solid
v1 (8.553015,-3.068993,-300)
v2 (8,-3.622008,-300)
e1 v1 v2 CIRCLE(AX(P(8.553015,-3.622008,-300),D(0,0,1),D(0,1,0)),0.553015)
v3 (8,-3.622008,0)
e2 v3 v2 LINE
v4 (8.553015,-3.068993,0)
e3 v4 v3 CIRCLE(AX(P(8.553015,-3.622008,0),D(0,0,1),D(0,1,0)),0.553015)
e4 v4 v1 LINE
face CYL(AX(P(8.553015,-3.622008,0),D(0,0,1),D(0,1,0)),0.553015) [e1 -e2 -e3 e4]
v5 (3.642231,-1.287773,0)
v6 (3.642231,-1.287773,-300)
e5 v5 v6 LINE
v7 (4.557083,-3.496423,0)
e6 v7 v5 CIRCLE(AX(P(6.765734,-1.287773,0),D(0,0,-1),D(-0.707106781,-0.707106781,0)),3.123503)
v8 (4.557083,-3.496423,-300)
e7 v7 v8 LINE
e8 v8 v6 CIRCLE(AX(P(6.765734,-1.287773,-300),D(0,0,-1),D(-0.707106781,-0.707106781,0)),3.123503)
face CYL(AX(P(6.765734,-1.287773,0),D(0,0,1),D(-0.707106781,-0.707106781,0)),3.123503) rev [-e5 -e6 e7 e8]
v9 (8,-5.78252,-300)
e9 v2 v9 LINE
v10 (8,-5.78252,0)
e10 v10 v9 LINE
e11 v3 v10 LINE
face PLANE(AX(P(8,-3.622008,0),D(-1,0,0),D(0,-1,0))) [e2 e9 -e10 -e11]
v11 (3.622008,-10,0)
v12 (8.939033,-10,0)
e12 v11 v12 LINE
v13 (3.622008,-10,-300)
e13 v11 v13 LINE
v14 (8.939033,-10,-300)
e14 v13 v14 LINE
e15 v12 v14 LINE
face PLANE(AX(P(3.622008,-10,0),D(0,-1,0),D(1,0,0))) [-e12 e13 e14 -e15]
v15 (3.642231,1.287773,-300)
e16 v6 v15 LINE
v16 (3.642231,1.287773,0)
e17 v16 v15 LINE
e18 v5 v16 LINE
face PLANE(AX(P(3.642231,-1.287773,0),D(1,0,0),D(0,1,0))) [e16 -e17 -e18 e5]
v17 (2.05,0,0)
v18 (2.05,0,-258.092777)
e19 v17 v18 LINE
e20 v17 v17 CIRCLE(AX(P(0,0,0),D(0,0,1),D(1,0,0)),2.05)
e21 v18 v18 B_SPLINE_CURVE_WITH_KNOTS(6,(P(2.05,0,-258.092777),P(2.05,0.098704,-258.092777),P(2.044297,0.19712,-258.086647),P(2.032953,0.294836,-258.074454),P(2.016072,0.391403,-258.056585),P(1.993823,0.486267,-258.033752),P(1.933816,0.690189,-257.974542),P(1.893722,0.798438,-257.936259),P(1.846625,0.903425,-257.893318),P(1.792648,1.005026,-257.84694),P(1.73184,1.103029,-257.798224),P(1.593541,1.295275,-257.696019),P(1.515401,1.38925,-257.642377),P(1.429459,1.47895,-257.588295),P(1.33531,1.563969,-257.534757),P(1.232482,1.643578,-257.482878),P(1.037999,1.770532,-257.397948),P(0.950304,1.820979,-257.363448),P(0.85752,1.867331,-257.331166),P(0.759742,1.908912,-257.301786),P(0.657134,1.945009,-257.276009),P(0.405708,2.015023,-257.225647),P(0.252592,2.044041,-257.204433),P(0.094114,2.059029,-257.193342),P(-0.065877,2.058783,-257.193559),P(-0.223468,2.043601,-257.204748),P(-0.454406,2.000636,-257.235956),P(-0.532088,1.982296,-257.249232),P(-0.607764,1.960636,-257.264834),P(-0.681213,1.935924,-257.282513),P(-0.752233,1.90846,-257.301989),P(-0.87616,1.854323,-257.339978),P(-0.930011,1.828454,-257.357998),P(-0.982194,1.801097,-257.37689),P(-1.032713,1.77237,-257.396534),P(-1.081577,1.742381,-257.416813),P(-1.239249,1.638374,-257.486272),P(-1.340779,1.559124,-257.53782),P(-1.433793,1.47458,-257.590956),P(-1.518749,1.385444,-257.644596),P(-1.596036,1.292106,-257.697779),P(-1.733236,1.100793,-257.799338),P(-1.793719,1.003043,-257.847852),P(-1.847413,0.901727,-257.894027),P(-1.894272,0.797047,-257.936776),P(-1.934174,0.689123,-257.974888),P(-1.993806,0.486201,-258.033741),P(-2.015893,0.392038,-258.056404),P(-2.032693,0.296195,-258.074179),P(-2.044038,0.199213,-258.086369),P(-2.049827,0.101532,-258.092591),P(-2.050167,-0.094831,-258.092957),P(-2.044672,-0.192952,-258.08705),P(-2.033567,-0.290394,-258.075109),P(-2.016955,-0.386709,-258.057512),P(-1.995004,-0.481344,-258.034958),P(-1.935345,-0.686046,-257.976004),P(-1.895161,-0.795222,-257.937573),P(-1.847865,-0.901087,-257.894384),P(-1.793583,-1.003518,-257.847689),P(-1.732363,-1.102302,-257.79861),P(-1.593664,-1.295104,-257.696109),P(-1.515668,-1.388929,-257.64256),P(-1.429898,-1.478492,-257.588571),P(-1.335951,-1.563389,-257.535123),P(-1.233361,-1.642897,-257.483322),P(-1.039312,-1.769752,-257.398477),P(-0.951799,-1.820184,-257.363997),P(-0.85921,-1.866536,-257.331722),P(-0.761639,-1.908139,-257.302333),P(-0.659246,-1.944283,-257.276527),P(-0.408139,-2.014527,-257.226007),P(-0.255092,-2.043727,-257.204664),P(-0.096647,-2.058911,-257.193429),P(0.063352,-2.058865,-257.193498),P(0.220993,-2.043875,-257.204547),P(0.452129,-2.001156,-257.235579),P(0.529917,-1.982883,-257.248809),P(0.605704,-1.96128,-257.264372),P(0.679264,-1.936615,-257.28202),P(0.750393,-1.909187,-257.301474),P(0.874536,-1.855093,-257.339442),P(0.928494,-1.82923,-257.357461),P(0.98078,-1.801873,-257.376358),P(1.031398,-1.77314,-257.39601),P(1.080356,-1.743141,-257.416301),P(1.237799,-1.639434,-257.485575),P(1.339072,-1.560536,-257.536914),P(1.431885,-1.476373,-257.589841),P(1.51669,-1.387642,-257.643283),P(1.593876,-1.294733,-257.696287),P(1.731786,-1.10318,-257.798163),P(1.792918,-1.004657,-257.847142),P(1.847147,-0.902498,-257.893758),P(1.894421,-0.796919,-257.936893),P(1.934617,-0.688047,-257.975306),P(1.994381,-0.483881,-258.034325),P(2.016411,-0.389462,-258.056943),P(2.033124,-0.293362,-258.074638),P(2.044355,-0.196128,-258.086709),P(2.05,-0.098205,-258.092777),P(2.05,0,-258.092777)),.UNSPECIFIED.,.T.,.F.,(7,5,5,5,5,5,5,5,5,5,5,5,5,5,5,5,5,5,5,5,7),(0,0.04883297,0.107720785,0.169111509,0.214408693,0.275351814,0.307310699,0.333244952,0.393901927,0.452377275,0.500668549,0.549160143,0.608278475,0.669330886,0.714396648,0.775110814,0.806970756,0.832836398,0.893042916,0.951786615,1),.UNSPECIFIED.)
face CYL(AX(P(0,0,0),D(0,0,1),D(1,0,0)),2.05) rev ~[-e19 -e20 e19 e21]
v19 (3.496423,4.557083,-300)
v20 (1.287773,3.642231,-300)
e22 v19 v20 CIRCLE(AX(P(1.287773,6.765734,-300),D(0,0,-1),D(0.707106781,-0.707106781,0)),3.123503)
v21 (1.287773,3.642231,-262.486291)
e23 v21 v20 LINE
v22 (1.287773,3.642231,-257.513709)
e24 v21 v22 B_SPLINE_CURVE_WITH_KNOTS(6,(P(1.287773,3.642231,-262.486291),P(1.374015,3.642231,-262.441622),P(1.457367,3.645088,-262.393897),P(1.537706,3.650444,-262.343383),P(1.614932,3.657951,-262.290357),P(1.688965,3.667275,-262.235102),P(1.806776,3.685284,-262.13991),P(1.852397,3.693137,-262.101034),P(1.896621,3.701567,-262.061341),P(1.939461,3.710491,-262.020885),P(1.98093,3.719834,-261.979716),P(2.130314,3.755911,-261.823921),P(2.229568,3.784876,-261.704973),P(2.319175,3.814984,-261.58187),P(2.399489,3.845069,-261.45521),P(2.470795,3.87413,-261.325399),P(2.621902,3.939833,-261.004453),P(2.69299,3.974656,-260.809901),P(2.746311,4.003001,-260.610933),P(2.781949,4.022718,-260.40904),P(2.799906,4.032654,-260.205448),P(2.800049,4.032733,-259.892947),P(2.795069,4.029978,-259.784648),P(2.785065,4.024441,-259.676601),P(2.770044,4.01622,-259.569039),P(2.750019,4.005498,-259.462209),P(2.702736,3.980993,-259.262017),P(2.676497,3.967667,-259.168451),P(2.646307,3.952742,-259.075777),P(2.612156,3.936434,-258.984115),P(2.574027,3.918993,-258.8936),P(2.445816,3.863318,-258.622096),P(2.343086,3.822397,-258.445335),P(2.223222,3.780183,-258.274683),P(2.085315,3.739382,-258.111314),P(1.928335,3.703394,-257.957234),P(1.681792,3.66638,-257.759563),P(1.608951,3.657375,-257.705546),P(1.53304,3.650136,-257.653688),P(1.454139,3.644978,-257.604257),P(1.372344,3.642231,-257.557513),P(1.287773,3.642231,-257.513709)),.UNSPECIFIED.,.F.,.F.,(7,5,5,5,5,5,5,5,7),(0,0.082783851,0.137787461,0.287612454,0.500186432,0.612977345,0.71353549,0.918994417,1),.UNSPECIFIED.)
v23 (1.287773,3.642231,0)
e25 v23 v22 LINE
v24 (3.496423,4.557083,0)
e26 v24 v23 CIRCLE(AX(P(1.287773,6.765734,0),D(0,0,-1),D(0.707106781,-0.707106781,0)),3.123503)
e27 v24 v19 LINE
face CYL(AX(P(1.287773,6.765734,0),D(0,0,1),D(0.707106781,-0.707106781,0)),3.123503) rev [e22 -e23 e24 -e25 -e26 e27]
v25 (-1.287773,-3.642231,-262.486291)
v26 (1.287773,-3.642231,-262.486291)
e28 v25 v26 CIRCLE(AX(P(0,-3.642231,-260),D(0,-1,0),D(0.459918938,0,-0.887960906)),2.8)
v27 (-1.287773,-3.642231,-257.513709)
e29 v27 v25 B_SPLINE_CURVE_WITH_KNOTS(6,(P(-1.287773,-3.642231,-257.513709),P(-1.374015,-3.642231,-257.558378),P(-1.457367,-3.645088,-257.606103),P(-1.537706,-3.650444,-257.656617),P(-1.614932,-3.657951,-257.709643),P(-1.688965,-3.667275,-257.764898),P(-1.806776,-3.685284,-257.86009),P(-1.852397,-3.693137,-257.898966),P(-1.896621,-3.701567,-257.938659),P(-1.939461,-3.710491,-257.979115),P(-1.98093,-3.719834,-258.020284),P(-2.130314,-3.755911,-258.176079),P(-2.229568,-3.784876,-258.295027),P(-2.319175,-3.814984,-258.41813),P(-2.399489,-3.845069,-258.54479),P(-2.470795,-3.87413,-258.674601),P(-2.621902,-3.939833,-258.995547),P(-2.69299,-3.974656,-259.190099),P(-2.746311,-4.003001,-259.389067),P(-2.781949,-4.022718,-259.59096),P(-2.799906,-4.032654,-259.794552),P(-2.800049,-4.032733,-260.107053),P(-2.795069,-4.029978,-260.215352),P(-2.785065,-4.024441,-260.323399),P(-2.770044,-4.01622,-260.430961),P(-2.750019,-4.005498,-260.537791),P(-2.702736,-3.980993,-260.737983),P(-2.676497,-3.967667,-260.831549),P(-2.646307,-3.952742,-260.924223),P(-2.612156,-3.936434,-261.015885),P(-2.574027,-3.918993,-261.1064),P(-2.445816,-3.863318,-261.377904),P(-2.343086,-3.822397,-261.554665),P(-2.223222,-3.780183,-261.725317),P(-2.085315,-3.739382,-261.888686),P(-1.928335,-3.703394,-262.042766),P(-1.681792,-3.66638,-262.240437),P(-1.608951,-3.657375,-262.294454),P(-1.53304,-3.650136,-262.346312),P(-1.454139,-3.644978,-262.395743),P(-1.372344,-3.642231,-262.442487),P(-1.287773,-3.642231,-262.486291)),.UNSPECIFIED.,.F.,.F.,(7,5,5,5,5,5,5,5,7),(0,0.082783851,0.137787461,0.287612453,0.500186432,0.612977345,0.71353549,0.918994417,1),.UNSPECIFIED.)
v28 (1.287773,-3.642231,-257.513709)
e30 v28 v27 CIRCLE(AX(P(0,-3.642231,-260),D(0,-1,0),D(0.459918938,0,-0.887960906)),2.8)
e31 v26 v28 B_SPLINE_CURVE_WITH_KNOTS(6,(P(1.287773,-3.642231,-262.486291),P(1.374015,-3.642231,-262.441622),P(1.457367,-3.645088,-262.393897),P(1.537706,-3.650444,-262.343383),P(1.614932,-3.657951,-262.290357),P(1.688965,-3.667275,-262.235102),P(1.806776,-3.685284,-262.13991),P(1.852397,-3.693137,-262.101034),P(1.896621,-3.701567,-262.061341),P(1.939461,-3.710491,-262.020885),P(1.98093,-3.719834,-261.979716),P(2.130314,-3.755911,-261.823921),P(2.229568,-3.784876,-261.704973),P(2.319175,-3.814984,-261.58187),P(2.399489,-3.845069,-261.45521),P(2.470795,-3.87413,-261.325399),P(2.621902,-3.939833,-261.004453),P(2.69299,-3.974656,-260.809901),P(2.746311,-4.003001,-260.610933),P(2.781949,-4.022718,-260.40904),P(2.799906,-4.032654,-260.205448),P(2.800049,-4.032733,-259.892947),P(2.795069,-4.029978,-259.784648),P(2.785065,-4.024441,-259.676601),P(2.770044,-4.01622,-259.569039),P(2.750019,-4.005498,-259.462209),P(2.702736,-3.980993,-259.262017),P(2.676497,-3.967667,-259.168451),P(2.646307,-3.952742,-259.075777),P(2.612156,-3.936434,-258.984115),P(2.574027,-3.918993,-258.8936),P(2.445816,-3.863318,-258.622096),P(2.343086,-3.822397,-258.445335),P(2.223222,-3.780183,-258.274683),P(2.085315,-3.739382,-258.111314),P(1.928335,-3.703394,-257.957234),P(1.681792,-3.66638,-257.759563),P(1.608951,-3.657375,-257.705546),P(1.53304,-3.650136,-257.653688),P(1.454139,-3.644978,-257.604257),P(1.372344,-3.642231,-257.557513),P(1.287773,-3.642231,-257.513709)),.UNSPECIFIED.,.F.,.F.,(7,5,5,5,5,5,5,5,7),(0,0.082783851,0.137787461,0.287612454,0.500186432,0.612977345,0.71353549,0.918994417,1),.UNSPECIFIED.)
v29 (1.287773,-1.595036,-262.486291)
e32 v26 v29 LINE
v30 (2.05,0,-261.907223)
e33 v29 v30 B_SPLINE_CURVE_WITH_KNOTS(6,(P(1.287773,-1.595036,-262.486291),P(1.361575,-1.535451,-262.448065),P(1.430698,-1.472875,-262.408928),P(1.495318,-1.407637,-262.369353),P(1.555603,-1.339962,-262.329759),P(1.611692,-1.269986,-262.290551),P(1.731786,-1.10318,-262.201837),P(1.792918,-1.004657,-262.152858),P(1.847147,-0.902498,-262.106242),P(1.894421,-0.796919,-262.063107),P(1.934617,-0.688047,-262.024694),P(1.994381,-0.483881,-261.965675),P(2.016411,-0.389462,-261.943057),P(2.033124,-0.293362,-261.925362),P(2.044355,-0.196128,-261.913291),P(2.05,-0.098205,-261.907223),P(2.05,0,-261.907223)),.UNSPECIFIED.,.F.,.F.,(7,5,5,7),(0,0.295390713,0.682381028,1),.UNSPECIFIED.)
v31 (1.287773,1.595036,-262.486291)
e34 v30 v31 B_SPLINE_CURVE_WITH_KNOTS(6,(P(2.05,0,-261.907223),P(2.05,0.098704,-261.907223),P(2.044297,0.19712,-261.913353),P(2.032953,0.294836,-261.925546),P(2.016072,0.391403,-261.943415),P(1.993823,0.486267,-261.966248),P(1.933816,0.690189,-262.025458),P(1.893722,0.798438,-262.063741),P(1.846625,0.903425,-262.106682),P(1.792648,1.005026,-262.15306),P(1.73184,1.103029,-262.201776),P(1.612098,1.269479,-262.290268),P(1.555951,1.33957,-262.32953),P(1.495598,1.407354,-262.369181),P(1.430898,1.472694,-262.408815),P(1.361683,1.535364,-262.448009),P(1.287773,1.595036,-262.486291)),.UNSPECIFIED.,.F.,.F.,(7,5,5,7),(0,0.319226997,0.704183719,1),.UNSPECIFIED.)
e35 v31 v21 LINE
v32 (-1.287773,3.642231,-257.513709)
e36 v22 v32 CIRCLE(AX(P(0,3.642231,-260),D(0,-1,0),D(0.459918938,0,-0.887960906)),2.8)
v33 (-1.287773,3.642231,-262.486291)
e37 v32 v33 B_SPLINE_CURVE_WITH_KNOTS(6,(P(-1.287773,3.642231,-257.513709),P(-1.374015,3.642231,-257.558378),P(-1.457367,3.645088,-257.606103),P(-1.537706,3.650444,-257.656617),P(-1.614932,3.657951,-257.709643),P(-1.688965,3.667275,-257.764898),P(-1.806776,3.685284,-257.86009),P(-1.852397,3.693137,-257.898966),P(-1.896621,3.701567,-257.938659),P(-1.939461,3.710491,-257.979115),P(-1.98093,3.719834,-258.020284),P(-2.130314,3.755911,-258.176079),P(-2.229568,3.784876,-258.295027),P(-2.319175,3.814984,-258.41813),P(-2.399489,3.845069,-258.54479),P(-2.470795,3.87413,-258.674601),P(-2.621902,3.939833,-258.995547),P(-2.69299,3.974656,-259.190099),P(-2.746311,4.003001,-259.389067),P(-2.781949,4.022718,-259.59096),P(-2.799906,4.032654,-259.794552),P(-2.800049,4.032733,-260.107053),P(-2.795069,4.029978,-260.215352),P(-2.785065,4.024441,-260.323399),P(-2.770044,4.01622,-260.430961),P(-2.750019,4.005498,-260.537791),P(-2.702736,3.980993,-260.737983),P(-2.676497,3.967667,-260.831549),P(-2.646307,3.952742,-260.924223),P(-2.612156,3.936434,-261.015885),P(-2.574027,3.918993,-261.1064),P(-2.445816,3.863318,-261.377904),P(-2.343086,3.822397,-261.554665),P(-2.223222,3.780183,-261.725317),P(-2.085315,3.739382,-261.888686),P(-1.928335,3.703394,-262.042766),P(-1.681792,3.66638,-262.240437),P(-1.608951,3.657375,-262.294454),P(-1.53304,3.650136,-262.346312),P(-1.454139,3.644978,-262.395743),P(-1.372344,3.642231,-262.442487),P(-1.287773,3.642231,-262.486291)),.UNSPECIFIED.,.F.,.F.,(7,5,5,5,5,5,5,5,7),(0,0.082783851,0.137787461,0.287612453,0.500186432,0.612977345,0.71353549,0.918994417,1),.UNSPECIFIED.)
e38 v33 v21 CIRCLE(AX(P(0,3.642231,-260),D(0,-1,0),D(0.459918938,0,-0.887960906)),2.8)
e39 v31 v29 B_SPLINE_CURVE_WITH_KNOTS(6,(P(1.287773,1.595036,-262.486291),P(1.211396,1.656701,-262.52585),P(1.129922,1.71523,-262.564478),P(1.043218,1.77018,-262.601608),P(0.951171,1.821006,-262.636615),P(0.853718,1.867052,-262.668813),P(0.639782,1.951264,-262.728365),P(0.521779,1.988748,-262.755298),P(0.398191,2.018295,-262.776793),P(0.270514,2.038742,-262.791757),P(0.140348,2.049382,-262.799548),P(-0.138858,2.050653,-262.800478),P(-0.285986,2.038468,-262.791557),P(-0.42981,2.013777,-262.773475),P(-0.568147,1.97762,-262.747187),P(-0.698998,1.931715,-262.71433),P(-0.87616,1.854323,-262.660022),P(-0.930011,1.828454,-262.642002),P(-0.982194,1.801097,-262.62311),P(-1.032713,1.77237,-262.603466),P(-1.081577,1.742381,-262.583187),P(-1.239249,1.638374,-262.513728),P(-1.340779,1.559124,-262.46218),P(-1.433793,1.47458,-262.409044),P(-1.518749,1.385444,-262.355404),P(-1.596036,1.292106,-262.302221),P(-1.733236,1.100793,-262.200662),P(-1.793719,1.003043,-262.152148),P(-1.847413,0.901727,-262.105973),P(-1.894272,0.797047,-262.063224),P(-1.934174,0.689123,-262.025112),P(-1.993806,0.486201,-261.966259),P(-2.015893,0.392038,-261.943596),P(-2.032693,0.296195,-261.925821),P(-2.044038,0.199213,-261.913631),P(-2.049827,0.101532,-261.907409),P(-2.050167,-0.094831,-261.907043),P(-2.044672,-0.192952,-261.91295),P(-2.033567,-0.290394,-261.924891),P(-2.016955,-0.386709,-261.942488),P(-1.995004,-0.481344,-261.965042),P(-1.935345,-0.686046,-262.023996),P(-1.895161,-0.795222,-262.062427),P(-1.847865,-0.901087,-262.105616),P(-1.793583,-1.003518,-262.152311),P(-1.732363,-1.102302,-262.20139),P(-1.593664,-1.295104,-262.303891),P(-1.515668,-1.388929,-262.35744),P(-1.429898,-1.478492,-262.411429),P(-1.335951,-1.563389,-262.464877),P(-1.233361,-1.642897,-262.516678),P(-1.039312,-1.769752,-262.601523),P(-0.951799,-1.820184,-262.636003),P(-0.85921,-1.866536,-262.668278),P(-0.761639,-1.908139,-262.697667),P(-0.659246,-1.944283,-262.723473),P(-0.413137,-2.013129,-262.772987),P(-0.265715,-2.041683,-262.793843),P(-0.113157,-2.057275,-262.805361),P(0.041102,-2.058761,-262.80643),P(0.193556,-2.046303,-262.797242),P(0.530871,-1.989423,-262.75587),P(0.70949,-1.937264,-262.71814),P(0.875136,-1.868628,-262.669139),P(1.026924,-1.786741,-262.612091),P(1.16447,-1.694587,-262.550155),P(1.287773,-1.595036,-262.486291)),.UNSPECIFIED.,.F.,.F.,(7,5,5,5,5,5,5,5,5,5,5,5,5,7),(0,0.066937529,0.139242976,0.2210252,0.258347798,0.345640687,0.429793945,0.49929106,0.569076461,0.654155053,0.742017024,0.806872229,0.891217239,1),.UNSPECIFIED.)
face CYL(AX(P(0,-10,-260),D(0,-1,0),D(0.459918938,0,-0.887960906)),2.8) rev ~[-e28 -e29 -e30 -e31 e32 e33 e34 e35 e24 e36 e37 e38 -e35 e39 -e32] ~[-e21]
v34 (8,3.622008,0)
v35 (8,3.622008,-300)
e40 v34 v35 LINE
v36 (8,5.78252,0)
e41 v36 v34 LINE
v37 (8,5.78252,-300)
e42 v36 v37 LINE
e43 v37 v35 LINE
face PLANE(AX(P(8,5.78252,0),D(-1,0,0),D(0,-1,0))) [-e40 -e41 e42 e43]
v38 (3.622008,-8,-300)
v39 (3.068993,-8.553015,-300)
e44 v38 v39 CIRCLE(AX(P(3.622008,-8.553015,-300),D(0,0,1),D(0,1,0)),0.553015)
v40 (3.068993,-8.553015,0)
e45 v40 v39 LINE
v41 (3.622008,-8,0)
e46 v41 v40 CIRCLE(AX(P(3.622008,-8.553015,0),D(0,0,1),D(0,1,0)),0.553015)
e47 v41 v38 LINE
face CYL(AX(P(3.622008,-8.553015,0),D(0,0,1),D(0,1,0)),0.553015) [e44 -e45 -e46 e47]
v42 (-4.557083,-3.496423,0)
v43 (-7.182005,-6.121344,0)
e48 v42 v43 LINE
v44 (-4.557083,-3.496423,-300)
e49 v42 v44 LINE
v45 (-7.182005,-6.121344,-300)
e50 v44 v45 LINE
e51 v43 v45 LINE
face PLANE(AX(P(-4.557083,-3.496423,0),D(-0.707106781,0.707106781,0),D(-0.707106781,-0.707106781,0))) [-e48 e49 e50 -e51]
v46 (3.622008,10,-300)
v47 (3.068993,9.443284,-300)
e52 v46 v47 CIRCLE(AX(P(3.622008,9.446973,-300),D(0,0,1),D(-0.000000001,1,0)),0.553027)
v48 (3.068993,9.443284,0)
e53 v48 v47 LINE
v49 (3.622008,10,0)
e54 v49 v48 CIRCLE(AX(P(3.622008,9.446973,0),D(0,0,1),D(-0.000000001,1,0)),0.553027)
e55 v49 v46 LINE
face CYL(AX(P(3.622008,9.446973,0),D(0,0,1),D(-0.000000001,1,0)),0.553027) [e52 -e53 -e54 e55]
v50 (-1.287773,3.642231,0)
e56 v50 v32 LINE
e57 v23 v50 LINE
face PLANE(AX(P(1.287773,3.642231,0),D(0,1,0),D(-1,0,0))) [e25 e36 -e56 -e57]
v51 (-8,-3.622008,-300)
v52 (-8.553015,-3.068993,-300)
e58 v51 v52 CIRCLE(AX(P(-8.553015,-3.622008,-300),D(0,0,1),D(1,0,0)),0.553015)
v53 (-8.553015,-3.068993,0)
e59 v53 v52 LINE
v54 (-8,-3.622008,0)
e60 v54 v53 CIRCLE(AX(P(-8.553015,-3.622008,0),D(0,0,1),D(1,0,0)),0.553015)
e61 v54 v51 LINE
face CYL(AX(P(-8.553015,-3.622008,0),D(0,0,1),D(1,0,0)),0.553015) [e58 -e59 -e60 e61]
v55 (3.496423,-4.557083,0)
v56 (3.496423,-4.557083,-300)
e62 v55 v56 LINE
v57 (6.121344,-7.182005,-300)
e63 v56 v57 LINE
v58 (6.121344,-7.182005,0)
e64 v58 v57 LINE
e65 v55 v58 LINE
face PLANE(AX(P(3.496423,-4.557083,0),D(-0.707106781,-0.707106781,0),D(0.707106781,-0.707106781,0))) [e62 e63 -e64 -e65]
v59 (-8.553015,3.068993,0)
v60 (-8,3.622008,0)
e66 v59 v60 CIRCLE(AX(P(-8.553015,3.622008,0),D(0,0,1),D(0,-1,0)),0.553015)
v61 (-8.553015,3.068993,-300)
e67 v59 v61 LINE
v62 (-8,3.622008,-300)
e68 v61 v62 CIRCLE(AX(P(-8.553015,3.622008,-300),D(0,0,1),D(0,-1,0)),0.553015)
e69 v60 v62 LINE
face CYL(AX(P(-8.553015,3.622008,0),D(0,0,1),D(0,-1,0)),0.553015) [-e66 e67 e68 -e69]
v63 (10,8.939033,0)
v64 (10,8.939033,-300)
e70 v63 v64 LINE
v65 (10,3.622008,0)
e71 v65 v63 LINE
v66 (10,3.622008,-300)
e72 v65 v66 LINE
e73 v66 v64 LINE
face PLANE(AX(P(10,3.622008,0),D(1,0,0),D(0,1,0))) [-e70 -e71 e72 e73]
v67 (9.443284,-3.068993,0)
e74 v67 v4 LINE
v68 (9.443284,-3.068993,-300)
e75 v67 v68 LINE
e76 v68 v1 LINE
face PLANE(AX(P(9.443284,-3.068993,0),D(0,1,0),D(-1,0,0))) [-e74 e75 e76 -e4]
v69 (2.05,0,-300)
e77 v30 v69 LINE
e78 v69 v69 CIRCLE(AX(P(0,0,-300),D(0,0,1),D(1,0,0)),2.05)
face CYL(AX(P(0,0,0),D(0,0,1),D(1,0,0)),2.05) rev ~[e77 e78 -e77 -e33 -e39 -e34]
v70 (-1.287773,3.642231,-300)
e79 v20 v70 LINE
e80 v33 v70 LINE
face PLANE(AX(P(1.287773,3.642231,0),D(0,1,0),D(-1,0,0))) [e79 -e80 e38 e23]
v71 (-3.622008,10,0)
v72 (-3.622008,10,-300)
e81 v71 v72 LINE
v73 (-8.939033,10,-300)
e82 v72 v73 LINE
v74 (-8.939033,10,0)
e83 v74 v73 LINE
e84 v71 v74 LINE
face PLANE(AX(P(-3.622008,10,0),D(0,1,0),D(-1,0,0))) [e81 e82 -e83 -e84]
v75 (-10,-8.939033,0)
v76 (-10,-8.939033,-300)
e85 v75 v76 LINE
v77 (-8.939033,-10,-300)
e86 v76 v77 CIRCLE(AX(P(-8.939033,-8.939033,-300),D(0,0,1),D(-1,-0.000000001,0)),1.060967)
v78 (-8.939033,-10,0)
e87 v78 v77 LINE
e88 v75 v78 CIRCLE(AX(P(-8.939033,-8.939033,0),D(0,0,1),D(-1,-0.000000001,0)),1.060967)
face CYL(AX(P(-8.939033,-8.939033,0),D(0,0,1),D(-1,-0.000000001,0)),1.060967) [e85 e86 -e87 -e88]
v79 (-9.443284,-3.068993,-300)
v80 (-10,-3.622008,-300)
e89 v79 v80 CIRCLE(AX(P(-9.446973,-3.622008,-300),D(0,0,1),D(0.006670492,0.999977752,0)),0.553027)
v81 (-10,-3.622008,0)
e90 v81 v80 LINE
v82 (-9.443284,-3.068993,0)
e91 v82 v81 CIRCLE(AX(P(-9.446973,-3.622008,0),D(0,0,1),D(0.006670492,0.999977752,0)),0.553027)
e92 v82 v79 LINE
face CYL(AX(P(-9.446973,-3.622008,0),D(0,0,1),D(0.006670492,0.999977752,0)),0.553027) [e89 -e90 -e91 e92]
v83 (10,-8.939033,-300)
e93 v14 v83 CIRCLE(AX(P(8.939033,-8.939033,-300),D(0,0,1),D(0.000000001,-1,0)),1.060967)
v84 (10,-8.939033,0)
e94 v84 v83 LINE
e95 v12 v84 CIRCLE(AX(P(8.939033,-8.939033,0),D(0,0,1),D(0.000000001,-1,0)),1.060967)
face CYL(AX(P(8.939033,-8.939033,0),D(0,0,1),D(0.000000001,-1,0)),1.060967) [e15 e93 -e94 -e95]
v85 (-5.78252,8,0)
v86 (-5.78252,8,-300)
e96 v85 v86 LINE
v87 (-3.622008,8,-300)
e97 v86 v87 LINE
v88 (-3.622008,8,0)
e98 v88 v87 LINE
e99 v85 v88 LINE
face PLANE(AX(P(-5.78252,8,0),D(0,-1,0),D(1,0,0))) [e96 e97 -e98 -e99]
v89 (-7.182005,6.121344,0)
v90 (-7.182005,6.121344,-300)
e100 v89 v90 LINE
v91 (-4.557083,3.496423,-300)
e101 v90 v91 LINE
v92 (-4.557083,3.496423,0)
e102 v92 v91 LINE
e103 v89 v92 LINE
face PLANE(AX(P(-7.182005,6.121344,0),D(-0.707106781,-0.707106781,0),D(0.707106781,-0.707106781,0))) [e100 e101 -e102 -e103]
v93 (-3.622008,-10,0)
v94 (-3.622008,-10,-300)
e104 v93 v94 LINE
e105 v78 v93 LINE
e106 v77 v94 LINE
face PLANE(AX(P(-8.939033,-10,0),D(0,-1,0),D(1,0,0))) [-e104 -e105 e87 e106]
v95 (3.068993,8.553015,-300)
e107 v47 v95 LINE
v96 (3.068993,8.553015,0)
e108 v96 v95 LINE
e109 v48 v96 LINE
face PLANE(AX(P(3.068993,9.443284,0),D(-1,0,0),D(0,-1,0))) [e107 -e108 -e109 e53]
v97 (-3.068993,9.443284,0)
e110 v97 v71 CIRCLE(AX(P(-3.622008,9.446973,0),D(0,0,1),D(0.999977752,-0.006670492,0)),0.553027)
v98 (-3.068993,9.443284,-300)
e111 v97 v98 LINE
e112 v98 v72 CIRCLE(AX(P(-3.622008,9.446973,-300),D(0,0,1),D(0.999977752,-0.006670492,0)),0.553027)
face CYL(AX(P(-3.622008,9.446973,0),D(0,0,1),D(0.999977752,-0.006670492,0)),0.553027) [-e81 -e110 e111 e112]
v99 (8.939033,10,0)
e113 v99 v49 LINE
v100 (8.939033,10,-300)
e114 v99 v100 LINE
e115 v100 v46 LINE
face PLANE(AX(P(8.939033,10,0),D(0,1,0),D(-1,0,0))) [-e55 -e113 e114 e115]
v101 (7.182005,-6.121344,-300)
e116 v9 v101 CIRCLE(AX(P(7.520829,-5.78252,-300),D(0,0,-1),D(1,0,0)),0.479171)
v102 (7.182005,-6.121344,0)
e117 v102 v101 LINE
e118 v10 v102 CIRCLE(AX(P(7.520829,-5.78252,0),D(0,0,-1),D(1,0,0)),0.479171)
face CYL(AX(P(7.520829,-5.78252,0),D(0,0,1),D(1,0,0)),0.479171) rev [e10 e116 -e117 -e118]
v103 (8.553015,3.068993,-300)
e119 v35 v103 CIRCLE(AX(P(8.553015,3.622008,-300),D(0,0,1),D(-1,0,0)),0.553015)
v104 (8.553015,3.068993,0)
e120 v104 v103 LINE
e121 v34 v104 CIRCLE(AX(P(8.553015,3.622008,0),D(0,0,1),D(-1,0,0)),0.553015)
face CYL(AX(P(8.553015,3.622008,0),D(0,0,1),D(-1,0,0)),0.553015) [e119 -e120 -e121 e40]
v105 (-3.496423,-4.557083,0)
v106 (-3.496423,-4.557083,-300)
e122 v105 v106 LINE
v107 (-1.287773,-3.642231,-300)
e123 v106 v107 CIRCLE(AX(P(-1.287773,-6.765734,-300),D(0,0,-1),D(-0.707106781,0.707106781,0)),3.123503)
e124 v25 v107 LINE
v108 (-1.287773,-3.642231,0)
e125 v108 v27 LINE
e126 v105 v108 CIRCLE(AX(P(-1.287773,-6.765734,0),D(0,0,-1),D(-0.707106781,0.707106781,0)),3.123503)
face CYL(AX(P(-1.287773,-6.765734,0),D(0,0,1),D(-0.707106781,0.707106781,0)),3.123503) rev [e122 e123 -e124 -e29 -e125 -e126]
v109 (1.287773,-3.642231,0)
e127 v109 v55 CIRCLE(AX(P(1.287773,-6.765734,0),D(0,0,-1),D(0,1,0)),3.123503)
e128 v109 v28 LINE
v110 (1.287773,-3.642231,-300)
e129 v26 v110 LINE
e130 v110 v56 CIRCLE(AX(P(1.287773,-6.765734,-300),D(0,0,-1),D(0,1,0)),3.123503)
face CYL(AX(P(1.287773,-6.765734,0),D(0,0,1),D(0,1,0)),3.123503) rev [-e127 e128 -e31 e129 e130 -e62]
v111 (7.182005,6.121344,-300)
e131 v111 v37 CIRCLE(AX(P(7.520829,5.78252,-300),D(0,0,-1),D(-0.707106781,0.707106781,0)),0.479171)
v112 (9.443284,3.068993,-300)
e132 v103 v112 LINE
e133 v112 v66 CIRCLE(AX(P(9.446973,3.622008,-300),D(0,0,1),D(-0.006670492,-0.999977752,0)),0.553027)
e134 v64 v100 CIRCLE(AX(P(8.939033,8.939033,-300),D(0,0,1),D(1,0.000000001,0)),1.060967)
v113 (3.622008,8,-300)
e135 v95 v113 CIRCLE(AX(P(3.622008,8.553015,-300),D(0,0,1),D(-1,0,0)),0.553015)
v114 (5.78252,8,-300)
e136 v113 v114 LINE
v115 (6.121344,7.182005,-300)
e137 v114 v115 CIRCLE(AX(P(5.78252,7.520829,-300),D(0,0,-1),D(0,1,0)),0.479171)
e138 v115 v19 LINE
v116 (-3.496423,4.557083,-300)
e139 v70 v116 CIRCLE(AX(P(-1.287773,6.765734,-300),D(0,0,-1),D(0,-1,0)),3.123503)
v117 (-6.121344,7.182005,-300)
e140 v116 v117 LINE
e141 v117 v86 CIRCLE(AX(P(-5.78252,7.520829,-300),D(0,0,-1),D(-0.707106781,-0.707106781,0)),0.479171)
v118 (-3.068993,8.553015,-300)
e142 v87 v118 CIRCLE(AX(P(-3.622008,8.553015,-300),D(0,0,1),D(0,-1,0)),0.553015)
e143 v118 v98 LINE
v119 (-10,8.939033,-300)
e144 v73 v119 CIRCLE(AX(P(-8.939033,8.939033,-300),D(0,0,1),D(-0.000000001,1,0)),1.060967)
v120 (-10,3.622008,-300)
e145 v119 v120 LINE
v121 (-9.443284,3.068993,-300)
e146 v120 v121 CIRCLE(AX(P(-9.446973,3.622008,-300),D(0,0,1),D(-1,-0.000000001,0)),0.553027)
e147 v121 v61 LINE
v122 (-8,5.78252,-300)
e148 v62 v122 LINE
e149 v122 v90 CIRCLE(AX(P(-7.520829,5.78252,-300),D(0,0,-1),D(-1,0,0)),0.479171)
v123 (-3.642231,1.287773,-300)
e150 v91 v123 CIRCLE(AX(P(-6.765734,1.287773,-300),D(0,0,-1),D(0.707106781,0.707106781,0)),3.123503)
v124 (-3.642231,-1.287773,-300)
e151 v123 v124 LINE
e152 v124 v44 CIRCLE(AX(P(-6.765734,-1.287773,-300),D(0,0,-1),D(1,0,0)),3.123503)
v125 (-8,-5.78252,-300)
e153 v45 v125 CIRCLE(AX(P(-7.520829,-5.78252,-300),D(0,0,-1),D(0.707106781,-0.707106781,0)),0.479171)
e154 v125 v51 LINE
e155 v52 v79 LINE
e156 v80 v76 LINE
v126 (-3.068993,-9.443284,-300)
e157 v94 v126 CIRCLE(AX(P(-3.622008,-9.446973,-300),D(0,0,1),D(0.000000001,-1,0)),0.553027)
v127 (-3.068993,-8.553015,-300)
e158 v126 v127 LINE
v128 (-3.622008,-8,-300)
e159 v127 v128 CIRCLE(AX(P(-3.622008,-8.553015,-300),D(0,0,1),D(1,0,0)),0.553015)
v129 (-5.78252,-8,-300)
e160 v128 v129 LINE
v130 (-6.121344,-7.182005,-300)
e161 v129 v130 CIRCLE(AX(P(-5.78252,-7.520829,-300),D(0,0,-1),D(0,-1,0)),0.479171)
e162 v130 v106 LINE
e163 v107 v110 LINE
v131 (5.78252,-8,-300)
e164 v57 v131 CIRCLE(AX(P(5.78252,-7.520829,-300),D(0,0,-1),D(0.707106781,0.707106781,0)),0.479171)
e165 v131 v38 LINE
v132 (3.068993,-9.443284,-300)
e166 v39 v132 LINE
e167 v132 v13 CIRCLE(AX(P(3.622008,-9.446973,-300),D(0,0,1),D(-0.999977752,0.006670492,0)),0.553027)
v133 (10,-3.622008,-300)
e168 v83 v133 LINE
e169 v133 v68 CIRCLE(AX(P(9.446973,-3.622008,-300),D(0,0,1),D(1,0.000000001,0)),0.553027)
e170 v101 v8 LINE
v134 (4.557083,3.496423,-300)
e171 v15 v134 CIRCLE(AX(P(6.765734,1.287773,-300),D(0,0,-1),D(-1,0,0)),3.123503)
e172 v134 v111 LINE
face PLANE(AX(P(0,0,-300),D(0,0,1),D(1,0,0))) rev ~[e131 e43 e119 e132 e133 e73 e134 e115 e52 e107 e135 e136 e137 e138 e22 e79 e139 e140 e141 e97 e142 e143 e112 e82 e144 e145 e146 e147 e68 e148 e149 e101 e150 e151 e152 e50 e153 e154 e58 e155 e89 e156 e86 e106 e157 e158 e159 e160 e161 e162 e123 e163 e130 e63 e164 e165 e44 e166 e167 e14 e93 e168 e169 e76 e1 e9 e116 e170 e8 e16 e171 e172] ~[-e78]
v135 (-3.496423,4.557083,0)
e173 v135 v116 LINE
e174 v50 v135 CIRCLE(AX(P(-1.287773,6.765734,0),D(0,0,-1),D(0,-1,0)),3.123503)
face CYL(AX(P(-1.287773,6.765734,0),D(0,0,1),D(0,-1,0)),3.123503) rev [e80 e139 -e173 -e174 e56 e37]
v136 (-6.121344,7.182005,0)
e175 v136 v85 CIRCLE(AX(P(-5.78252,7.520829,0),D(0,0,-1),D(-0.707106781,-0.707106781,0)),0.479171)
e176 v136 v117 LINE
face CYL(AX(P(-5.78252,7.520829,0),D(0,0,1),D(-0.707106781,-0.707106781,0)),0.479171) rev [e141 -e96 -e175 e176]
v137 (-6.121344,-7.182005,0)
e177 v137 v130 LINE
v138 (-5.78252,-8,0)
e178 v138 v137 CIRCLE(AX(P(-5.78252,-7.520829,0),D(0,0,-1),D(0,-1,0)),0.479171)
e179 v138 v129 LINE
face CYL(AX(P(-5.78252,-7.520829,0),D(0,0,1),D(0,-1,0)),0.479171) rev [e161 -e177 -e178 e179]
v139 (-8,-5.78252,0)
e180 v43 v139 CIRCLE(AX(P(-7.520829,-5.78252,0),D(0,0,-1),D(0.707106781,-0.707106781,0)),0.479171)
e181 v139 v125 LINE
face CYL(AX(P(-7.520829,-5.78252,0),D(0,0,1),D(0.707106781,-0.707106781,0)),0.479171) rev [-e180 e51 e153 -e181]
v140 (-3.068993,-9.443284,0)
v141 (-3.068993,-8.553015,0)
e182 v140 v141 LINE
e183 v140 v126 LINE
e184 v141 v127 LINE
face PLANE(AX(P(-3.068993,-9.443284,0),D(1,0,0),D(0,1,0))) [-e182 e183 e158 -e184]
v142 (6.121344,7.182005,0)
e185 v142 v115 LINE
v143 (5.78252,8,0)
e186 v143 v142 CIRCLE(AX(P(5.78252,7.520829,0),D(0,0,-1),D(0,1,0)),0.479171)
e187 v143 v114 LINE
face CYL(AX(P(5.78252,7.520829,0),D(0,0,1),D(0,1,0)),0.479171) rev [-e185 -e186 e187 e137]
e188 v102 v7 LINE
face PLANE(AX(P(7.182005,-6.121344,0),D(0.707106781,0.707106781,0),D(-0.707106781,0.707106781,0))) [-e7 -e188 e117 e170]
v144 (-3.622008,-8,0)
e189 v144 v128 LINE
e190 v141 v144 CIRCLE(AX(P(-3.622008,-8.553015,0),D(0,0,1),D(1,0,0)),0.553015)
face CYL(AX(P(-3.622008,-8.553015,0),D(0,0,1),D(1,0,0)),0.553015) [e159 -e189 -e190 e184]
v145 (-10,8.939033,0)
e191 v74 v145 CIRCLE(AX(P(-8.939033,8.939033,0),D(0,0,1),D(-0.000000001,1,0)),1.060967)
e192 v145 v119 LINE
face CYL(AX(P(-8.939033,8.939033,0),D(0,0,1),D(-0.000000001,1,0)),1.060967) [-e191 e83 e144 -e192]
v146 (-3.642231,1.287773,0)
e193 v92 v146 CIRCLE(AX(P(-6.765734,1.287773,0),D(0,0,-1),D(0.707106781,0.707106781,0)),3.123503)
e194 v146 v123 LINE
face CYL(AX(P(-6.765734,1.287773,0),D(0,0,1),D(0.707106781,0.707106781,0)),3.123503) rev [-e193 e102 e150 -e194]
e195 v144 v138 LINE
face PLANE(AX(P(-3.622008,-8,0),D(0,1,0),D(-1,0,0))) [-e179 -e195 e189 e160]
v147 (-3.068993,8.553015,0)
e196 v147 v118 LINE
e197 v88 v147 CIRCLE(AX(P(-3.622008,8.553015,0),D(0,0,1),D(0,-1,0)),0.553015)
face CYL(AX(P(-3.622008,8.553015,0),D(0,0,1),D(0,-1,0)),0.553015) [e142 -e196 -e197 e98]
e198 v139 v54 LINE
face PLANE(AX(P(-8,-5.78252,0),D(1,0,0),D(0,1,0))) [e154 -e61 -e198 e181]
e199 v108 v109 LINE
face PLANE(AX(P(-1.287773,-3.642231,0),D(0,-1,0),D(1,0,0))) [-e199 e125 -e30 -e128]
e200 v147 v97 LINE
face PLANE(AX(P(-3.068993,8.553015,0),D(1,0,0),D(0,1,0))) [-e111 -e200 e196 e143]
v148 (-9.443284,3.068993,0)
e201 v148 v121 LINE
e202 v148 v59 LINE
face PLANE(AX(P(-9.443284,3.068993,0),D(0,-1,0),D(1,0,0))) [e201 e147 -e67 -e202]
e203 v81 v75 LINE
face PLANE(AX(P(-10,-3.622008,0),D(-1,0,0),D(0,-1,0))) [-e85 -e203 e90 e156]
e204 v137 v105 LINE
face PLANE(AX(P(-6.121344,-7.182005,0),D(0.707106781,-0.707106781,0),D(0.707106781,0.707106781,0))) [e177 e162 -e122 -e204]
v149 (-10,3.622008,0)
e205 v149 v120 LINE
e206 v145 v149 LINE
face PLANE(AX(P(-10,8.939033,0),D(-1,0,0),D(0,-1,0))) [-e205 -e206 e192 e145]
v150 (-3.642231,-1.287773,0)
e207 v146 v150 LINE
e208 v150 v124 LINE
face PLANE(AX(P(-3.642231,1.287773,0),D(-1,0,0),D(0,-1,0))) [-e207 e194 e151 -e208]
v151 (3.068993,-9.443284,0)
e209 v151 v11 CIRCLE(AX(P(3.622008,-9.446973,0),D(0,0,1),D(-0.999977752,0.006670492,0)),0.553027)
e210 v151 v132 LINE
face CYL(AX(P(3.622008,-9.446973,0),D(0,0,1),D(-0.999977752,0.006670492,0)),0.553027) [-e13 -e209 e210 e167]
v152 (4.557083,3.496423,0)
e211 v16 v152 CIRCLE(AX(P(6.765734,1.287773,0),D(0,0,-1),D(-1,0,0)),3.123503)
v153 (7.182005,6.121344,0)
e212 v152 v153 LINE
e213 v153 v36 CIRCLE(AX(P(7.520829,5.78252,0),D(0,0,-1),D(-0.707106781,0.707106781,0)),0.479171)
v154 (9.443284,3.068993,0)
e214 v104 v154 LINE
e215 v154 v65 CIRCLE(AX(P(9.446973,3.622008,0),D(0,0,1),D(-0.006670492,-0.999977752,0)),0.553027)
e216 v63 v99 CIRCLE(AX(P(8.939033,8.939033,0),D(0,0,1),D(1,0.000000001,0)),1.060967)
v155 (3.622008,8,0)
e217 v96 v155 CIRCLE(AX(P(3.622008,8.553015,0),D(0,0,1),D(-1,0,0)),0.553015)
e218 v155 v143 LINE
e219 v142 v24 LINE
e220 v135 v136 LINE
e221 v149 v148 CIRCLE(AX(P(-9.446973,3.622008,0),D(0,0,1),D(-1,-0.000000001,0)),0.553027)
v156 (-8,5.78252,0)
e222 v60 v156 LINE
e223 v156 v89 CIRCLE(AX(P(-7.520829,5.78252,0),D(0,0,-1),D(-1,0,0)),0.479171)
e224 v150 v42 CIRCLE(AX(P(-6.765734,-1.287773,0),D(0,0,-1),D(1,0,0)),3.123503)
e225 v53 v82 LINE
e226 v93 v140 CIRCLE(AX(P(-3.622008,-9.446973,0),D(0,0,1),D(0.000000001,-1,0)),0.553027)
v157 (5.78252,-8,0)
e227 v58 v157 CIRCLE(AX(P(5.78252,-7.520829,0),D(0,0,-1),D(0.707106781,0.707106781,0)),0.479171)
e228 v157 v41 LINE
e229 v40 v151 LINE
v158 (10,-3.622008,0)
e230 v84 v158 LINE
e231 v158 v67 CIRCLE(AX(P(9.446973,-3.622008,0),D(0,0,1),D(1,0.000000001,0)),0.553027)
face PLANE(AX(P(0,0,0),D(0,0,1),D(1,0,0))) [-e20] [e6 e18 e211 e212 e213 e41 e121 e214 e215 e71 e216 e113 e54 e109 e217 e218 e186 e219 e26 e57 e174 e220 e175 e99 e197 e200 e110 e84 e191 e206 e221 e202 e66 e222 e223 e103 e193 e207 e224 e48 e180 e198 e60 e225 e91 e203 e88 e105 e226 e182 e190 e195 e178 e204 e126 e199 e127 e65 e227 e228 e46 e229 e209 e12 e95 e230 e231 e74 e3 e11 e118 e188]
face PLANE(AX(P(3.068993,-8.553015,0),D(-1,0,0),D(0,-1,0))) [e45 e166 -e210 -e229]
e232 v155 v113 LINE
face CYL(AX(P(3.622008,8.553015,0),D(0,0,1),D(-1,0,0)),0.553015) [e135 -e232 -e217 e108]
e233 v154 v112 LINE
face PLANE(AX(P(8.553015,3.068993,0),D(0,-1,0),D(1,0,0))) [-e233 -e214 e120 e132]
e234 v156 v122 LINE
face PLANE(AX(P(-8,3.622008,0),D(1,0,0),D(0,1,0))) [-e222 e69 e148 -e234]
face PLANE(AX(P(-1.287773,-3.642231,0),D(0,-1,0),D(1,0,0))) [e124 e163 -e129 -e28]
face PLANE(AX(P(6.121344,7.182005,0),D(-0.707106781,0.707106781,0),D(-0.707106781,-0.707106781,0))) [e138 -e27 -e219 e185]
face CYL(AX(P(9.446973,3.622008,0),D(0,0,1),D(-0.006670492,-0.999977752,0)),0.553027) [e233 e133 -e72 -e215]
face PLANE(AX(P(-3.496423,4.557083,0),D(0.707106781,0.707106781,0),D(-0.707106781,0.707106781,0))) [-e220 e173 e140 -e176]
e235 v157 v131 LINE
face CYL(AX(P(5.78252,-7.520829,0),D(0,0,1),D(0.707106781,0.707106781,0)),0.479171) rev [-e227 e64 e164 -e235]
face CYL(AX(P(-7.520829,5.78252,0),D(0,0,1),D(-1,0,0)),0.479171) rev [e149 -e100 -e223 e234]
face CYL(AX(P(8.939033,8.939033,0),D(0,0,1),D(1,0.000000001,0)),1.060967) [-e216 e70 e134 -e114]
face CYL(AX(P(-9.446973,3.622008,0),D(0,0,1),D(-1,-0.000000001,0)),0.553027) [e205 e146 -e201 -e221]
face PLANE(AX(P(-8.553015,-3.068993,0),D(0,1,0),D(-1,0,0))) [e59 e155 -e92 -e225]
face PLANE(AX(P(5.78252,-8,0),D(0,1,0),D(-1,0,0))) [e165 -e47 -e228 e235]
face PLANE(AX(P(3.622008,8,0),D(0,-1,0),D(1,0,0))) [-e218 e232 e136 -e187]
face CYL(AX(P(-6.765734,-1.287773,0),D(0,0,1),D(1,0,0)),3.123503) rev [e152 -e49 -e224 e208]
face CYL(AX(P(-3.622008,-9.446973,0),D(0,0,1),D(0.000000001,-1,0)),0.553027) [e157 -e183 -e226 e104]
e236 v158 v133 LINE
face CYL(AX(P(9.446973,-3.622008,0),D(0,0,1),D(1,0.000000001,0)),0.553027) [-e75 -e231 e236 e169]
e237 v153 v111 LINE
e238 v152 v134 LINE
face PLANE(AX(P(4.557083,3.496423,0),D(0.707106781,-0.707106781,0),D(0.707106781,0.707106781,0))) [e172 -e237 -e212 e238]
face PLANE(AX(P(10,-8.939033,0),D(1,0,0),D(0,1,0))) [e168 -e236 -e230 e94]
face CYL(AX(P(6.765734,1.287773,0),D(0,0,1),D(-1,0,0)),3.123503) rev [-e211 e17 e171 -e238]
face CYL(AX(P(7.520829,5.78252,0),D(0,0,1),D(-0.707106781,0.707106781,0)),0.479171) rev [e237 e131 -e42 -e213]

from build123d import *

# Parameters (mm, degrees)
SKETCH2_R           = 2.05
BOSS_EXTRUDE1_DEPTH = 300
SKETCH4_R           = 2.8
CUT_EXTRUDE1_DEPTH  = 43


with BuildPart() as part:
    # Sketch2 → Boss-Extrude1 (new body)
    with BuildSketch(Plane.XY):
        with BuildLine():
            Line((-3.642230561, 1.287773026), (-3.642230561, -1.287773026))
            ThreePointArc((-3.642230561, -1.287773026), (-3.87999308, -2.483085929), (-4.55708345, -3.496423279))
            Line((-4.55708345, -3.496423279), (-7.182004606, -6.121344434))
            ThreePointArc((-7.182004606, -6.121344434), (-7.704200045, -6.225215565), (-8, -5.782519648))
            Line((-8, -5.782519648), (-8, -3.622007668))
            ThreePointArc((-8, -3.622007668), (-8.161974206, -3.230967343), (-8.553014531, -3.068993137))
            Line((-8.553014531, -3.068993137), (-9.443284204, -3.068993137))
            ThreePointArc((-9.443284204, -3.068993137), (-9.836715763, -3.229656566), (-10, -3.622007668))
            Line((-10, -3.622007668), (-10, -8.939033256))
            ThreePointArc((-10, -8.939033256), (-9.689250035, -9.689250035), (-8.939033256, -10))
            Line((-8.939033256, -10), (-3.622007668, -10))
            ThreePointArc((-3.622007668, -10), (-3.229656566, -9.836715763), (-3.068993137, -9.443284204))
            Line((-3.068993137, -9.443284204), (-3.068993137, -8.553014531))
            ThreePointArc((-3.068993137, -8.553014531), (-3.230967343, -8.161974206), (-3.622007668, -8))
            Line((-3.622007668, -8), (-5.782519648, -8))
            ThreePointArc((-5.782519648, -8), (-6.225215565, -7.704200045), (-6.121344434, -7.182004606))
            Line((-6.121344434, -7.182004606), (-3.496423279, -4.55708345))
            ThreePointArc((-3.496423279, -4.55708345), (-2.483085929, -3.87999308), (-1.287773026, -3.642230561))
            Line((-1.287773026, -3.642230561), (1.287773026, -3.642230561))
            ThreePointArc((1.287773026, -3.642230561), (2.483085929, -3.87999308), (3.496423279, -4.55708345))
            Line((3.496423279, -4.55708345), (6.121344434, -7.182004606))
            ThreePointArc((6.121344434, -7.182004606), (6.225215565, -7.704200045), (5.782519648, -8))
            Line((5.782519648, -8), (3.622007668, -8))
            ThreePointArc((3.622007668, -8), (3.230967343, -8.161974206), (3.068993137, -8.553014531))
            Line((3.068993137, -8.553014531), (3.068993137, -9.443284204))
            ThreePointArc((3.068993137, -9.443284204), (3.229656566, -9.836715763), (3.622007668, -10))
            Line((3.622007668, -10), (8.939033256, -10))
            ThreePointArc((8.939033256, -10), (9.689250035, -9.689250035), (10, -8.939033256))
            Line((10, -8.939033256), (10, -3.622007668))
            ThreePointArc((10, -3.622007668), (9.836715763, -3.229656566), (9.443284204, -3.068993137))
            Line((9.443284204, -3.068993137), (8.553014531, -3.068993137))
            ThreePointArc((8.553014531, -3.068993137), (8.161974206, -3.230967343), (8, -3.622007668))
            Line((8, -3.622007668), (8, -5.782519648))
            ThreePointArc((8, -5.782519648), (7.704200045, -6.225215565), (7.182004606, -6.121344434))
            Line((7.182004606, -6.121344434), (4.55708345, -3.496423279))
            ThreePointArc((4.55708345, -3.496423279), (3.87999308, -2.483085929), (3.642230561, -1.287773026))
            Line((3.642230561, -1.287773026), (3.642230561, 1.287773026))
            ThreePointArc((3.642230561, 1.287773026), (3.87999308, 2.483085929), (4.55708345, 3.496423279))
            Line((4.55708345, 3.496423279), (7.182004606, 6.121344434))
            ThreePointArc((7.182004606, 6.121344434), (7.704200045, 6.225215565), (8, 5.782519648))
            Line((8, 5.782519648), (8, 3.622007668))
            ThreePointArc((8, 3.622007668), (8.161974206, 3.230967343), (8.553014531, 3.068993137))
            Line((8.553014531, 3.068993137), (9.443284204, 3.068993137))
            ThreePointArc((9.443284204, 3.068993137), (9.836715763, 3.229656566), (10, 3.622007668))
            Line((10, 3.622007668), (10, 8.939033256))
            ThreePointArc((10, 8.939033256), (9.689250035, 9.689250035), (8.939033256, 10))
            Line((8.939033256, 10), (3.622007668, 10))
            ThreePointArc((3.622007668, 10), (3.229656566, 9.836715763), (3.068993137, 9.443284204))
            Line((3.068993137, 9.443284204), (3.068993137, 8.553014531))
            ThreePointArc((3.068993137, 8.553014531), (3.230967343, 8.161974206), (3.622007668, 8))
            Line((3.622007668, 8), (5.782519648, 8))
            ThreePointArc((5.782519648, 8), (6.225215565, 7.704200045), (6.121344434, 7.182004606))
            Line((6.121344434, 7.182004606), (3.496423279, 4.55708345))
            ThreePointArc((3.496423279, 4.55708345), (2.483085929, 3.87999308), (1.287773026, 3.642230561))
            Line((1.287773026, 3.642230561), (-1.287773026, 3.642230561))
            ThreePointArc((-1.287773026, 3.642230561), (-2.483085929, 3.87999308), (-3.496423279, 4.55708345))
            Line((-3.496423279, 4.55708345), (-6.121344434, 7.182004606))
            ThreePointArc((-6.121344434, 7.182004606), (-6.225215565, 7.704200045), (-5.782519648, 8))
            Line((-5.782519648, 8), (-3.622007668, 8))
            ThreePointArc((-3.622007668, 8), (-3.230967343, 8.161974206), (-3.068993137, 8.553014531))
            Line((-3.068993137, 8.553014531), (-3.068993137, 9.443284204))
            ThreePointArc((-3.068993137, 9.443284204), (-3.229656566, 9.836715763), (-3.622007668, 10))
            Line((-3.622007668, 10), (-8.939033256, 10))
            ThreePointArc((-8.939033256, 10), (-9.689250035, 9.689250035), (-10, 8.939033256))
            Line((-10, 8.939033256), (-10, 3.622007668))
            ThreePointArc((-10, 3.622007668), (-9.836715763, 3.229656566), (-9.443284204, 3.068993137))
            Line((-9.443284204, 3.068993137), (-8.553014531, 3.068993137))
            ThreePointArc((-8.553014531, 3.068993137), (-8.161974206, 3.230967343), (-8, 3.622007668))
            Line((-8, 3.622007668), (-8, 5.782519648))
            ThreePointArc((-8, 5.782519648), (-7.704200045, 6.225215565), (-7.182004606, 6.121344434))
            Line((-7.182004606, 6.121344434), (-4.55708345, 3.496423279))
            ThreePointArc((-4.55708345, 3.496423279), (-3.87999308, 2.483085929), (-3.642230561, 1.287773026))
        make_face()
        Circle(SKETCH2_R, mode=Mode.SUBTRACT)
    extrude(amount=-BOSS_EXTRUDE1_DEPTH)

    # Sketch4 → Cut-Extrude1 (cut)
    with BuildSketch(Plane.XZ.offset(10)):
        with Locations(Location((0, -260, 0), (0, 0, 297.381876825))):
            Circle(SKETCH4_R)
    extrude(amount=-CUT_EXTRUDE1_DEPTH, mode=Mode.SUBTRACT)


solid = part.part
